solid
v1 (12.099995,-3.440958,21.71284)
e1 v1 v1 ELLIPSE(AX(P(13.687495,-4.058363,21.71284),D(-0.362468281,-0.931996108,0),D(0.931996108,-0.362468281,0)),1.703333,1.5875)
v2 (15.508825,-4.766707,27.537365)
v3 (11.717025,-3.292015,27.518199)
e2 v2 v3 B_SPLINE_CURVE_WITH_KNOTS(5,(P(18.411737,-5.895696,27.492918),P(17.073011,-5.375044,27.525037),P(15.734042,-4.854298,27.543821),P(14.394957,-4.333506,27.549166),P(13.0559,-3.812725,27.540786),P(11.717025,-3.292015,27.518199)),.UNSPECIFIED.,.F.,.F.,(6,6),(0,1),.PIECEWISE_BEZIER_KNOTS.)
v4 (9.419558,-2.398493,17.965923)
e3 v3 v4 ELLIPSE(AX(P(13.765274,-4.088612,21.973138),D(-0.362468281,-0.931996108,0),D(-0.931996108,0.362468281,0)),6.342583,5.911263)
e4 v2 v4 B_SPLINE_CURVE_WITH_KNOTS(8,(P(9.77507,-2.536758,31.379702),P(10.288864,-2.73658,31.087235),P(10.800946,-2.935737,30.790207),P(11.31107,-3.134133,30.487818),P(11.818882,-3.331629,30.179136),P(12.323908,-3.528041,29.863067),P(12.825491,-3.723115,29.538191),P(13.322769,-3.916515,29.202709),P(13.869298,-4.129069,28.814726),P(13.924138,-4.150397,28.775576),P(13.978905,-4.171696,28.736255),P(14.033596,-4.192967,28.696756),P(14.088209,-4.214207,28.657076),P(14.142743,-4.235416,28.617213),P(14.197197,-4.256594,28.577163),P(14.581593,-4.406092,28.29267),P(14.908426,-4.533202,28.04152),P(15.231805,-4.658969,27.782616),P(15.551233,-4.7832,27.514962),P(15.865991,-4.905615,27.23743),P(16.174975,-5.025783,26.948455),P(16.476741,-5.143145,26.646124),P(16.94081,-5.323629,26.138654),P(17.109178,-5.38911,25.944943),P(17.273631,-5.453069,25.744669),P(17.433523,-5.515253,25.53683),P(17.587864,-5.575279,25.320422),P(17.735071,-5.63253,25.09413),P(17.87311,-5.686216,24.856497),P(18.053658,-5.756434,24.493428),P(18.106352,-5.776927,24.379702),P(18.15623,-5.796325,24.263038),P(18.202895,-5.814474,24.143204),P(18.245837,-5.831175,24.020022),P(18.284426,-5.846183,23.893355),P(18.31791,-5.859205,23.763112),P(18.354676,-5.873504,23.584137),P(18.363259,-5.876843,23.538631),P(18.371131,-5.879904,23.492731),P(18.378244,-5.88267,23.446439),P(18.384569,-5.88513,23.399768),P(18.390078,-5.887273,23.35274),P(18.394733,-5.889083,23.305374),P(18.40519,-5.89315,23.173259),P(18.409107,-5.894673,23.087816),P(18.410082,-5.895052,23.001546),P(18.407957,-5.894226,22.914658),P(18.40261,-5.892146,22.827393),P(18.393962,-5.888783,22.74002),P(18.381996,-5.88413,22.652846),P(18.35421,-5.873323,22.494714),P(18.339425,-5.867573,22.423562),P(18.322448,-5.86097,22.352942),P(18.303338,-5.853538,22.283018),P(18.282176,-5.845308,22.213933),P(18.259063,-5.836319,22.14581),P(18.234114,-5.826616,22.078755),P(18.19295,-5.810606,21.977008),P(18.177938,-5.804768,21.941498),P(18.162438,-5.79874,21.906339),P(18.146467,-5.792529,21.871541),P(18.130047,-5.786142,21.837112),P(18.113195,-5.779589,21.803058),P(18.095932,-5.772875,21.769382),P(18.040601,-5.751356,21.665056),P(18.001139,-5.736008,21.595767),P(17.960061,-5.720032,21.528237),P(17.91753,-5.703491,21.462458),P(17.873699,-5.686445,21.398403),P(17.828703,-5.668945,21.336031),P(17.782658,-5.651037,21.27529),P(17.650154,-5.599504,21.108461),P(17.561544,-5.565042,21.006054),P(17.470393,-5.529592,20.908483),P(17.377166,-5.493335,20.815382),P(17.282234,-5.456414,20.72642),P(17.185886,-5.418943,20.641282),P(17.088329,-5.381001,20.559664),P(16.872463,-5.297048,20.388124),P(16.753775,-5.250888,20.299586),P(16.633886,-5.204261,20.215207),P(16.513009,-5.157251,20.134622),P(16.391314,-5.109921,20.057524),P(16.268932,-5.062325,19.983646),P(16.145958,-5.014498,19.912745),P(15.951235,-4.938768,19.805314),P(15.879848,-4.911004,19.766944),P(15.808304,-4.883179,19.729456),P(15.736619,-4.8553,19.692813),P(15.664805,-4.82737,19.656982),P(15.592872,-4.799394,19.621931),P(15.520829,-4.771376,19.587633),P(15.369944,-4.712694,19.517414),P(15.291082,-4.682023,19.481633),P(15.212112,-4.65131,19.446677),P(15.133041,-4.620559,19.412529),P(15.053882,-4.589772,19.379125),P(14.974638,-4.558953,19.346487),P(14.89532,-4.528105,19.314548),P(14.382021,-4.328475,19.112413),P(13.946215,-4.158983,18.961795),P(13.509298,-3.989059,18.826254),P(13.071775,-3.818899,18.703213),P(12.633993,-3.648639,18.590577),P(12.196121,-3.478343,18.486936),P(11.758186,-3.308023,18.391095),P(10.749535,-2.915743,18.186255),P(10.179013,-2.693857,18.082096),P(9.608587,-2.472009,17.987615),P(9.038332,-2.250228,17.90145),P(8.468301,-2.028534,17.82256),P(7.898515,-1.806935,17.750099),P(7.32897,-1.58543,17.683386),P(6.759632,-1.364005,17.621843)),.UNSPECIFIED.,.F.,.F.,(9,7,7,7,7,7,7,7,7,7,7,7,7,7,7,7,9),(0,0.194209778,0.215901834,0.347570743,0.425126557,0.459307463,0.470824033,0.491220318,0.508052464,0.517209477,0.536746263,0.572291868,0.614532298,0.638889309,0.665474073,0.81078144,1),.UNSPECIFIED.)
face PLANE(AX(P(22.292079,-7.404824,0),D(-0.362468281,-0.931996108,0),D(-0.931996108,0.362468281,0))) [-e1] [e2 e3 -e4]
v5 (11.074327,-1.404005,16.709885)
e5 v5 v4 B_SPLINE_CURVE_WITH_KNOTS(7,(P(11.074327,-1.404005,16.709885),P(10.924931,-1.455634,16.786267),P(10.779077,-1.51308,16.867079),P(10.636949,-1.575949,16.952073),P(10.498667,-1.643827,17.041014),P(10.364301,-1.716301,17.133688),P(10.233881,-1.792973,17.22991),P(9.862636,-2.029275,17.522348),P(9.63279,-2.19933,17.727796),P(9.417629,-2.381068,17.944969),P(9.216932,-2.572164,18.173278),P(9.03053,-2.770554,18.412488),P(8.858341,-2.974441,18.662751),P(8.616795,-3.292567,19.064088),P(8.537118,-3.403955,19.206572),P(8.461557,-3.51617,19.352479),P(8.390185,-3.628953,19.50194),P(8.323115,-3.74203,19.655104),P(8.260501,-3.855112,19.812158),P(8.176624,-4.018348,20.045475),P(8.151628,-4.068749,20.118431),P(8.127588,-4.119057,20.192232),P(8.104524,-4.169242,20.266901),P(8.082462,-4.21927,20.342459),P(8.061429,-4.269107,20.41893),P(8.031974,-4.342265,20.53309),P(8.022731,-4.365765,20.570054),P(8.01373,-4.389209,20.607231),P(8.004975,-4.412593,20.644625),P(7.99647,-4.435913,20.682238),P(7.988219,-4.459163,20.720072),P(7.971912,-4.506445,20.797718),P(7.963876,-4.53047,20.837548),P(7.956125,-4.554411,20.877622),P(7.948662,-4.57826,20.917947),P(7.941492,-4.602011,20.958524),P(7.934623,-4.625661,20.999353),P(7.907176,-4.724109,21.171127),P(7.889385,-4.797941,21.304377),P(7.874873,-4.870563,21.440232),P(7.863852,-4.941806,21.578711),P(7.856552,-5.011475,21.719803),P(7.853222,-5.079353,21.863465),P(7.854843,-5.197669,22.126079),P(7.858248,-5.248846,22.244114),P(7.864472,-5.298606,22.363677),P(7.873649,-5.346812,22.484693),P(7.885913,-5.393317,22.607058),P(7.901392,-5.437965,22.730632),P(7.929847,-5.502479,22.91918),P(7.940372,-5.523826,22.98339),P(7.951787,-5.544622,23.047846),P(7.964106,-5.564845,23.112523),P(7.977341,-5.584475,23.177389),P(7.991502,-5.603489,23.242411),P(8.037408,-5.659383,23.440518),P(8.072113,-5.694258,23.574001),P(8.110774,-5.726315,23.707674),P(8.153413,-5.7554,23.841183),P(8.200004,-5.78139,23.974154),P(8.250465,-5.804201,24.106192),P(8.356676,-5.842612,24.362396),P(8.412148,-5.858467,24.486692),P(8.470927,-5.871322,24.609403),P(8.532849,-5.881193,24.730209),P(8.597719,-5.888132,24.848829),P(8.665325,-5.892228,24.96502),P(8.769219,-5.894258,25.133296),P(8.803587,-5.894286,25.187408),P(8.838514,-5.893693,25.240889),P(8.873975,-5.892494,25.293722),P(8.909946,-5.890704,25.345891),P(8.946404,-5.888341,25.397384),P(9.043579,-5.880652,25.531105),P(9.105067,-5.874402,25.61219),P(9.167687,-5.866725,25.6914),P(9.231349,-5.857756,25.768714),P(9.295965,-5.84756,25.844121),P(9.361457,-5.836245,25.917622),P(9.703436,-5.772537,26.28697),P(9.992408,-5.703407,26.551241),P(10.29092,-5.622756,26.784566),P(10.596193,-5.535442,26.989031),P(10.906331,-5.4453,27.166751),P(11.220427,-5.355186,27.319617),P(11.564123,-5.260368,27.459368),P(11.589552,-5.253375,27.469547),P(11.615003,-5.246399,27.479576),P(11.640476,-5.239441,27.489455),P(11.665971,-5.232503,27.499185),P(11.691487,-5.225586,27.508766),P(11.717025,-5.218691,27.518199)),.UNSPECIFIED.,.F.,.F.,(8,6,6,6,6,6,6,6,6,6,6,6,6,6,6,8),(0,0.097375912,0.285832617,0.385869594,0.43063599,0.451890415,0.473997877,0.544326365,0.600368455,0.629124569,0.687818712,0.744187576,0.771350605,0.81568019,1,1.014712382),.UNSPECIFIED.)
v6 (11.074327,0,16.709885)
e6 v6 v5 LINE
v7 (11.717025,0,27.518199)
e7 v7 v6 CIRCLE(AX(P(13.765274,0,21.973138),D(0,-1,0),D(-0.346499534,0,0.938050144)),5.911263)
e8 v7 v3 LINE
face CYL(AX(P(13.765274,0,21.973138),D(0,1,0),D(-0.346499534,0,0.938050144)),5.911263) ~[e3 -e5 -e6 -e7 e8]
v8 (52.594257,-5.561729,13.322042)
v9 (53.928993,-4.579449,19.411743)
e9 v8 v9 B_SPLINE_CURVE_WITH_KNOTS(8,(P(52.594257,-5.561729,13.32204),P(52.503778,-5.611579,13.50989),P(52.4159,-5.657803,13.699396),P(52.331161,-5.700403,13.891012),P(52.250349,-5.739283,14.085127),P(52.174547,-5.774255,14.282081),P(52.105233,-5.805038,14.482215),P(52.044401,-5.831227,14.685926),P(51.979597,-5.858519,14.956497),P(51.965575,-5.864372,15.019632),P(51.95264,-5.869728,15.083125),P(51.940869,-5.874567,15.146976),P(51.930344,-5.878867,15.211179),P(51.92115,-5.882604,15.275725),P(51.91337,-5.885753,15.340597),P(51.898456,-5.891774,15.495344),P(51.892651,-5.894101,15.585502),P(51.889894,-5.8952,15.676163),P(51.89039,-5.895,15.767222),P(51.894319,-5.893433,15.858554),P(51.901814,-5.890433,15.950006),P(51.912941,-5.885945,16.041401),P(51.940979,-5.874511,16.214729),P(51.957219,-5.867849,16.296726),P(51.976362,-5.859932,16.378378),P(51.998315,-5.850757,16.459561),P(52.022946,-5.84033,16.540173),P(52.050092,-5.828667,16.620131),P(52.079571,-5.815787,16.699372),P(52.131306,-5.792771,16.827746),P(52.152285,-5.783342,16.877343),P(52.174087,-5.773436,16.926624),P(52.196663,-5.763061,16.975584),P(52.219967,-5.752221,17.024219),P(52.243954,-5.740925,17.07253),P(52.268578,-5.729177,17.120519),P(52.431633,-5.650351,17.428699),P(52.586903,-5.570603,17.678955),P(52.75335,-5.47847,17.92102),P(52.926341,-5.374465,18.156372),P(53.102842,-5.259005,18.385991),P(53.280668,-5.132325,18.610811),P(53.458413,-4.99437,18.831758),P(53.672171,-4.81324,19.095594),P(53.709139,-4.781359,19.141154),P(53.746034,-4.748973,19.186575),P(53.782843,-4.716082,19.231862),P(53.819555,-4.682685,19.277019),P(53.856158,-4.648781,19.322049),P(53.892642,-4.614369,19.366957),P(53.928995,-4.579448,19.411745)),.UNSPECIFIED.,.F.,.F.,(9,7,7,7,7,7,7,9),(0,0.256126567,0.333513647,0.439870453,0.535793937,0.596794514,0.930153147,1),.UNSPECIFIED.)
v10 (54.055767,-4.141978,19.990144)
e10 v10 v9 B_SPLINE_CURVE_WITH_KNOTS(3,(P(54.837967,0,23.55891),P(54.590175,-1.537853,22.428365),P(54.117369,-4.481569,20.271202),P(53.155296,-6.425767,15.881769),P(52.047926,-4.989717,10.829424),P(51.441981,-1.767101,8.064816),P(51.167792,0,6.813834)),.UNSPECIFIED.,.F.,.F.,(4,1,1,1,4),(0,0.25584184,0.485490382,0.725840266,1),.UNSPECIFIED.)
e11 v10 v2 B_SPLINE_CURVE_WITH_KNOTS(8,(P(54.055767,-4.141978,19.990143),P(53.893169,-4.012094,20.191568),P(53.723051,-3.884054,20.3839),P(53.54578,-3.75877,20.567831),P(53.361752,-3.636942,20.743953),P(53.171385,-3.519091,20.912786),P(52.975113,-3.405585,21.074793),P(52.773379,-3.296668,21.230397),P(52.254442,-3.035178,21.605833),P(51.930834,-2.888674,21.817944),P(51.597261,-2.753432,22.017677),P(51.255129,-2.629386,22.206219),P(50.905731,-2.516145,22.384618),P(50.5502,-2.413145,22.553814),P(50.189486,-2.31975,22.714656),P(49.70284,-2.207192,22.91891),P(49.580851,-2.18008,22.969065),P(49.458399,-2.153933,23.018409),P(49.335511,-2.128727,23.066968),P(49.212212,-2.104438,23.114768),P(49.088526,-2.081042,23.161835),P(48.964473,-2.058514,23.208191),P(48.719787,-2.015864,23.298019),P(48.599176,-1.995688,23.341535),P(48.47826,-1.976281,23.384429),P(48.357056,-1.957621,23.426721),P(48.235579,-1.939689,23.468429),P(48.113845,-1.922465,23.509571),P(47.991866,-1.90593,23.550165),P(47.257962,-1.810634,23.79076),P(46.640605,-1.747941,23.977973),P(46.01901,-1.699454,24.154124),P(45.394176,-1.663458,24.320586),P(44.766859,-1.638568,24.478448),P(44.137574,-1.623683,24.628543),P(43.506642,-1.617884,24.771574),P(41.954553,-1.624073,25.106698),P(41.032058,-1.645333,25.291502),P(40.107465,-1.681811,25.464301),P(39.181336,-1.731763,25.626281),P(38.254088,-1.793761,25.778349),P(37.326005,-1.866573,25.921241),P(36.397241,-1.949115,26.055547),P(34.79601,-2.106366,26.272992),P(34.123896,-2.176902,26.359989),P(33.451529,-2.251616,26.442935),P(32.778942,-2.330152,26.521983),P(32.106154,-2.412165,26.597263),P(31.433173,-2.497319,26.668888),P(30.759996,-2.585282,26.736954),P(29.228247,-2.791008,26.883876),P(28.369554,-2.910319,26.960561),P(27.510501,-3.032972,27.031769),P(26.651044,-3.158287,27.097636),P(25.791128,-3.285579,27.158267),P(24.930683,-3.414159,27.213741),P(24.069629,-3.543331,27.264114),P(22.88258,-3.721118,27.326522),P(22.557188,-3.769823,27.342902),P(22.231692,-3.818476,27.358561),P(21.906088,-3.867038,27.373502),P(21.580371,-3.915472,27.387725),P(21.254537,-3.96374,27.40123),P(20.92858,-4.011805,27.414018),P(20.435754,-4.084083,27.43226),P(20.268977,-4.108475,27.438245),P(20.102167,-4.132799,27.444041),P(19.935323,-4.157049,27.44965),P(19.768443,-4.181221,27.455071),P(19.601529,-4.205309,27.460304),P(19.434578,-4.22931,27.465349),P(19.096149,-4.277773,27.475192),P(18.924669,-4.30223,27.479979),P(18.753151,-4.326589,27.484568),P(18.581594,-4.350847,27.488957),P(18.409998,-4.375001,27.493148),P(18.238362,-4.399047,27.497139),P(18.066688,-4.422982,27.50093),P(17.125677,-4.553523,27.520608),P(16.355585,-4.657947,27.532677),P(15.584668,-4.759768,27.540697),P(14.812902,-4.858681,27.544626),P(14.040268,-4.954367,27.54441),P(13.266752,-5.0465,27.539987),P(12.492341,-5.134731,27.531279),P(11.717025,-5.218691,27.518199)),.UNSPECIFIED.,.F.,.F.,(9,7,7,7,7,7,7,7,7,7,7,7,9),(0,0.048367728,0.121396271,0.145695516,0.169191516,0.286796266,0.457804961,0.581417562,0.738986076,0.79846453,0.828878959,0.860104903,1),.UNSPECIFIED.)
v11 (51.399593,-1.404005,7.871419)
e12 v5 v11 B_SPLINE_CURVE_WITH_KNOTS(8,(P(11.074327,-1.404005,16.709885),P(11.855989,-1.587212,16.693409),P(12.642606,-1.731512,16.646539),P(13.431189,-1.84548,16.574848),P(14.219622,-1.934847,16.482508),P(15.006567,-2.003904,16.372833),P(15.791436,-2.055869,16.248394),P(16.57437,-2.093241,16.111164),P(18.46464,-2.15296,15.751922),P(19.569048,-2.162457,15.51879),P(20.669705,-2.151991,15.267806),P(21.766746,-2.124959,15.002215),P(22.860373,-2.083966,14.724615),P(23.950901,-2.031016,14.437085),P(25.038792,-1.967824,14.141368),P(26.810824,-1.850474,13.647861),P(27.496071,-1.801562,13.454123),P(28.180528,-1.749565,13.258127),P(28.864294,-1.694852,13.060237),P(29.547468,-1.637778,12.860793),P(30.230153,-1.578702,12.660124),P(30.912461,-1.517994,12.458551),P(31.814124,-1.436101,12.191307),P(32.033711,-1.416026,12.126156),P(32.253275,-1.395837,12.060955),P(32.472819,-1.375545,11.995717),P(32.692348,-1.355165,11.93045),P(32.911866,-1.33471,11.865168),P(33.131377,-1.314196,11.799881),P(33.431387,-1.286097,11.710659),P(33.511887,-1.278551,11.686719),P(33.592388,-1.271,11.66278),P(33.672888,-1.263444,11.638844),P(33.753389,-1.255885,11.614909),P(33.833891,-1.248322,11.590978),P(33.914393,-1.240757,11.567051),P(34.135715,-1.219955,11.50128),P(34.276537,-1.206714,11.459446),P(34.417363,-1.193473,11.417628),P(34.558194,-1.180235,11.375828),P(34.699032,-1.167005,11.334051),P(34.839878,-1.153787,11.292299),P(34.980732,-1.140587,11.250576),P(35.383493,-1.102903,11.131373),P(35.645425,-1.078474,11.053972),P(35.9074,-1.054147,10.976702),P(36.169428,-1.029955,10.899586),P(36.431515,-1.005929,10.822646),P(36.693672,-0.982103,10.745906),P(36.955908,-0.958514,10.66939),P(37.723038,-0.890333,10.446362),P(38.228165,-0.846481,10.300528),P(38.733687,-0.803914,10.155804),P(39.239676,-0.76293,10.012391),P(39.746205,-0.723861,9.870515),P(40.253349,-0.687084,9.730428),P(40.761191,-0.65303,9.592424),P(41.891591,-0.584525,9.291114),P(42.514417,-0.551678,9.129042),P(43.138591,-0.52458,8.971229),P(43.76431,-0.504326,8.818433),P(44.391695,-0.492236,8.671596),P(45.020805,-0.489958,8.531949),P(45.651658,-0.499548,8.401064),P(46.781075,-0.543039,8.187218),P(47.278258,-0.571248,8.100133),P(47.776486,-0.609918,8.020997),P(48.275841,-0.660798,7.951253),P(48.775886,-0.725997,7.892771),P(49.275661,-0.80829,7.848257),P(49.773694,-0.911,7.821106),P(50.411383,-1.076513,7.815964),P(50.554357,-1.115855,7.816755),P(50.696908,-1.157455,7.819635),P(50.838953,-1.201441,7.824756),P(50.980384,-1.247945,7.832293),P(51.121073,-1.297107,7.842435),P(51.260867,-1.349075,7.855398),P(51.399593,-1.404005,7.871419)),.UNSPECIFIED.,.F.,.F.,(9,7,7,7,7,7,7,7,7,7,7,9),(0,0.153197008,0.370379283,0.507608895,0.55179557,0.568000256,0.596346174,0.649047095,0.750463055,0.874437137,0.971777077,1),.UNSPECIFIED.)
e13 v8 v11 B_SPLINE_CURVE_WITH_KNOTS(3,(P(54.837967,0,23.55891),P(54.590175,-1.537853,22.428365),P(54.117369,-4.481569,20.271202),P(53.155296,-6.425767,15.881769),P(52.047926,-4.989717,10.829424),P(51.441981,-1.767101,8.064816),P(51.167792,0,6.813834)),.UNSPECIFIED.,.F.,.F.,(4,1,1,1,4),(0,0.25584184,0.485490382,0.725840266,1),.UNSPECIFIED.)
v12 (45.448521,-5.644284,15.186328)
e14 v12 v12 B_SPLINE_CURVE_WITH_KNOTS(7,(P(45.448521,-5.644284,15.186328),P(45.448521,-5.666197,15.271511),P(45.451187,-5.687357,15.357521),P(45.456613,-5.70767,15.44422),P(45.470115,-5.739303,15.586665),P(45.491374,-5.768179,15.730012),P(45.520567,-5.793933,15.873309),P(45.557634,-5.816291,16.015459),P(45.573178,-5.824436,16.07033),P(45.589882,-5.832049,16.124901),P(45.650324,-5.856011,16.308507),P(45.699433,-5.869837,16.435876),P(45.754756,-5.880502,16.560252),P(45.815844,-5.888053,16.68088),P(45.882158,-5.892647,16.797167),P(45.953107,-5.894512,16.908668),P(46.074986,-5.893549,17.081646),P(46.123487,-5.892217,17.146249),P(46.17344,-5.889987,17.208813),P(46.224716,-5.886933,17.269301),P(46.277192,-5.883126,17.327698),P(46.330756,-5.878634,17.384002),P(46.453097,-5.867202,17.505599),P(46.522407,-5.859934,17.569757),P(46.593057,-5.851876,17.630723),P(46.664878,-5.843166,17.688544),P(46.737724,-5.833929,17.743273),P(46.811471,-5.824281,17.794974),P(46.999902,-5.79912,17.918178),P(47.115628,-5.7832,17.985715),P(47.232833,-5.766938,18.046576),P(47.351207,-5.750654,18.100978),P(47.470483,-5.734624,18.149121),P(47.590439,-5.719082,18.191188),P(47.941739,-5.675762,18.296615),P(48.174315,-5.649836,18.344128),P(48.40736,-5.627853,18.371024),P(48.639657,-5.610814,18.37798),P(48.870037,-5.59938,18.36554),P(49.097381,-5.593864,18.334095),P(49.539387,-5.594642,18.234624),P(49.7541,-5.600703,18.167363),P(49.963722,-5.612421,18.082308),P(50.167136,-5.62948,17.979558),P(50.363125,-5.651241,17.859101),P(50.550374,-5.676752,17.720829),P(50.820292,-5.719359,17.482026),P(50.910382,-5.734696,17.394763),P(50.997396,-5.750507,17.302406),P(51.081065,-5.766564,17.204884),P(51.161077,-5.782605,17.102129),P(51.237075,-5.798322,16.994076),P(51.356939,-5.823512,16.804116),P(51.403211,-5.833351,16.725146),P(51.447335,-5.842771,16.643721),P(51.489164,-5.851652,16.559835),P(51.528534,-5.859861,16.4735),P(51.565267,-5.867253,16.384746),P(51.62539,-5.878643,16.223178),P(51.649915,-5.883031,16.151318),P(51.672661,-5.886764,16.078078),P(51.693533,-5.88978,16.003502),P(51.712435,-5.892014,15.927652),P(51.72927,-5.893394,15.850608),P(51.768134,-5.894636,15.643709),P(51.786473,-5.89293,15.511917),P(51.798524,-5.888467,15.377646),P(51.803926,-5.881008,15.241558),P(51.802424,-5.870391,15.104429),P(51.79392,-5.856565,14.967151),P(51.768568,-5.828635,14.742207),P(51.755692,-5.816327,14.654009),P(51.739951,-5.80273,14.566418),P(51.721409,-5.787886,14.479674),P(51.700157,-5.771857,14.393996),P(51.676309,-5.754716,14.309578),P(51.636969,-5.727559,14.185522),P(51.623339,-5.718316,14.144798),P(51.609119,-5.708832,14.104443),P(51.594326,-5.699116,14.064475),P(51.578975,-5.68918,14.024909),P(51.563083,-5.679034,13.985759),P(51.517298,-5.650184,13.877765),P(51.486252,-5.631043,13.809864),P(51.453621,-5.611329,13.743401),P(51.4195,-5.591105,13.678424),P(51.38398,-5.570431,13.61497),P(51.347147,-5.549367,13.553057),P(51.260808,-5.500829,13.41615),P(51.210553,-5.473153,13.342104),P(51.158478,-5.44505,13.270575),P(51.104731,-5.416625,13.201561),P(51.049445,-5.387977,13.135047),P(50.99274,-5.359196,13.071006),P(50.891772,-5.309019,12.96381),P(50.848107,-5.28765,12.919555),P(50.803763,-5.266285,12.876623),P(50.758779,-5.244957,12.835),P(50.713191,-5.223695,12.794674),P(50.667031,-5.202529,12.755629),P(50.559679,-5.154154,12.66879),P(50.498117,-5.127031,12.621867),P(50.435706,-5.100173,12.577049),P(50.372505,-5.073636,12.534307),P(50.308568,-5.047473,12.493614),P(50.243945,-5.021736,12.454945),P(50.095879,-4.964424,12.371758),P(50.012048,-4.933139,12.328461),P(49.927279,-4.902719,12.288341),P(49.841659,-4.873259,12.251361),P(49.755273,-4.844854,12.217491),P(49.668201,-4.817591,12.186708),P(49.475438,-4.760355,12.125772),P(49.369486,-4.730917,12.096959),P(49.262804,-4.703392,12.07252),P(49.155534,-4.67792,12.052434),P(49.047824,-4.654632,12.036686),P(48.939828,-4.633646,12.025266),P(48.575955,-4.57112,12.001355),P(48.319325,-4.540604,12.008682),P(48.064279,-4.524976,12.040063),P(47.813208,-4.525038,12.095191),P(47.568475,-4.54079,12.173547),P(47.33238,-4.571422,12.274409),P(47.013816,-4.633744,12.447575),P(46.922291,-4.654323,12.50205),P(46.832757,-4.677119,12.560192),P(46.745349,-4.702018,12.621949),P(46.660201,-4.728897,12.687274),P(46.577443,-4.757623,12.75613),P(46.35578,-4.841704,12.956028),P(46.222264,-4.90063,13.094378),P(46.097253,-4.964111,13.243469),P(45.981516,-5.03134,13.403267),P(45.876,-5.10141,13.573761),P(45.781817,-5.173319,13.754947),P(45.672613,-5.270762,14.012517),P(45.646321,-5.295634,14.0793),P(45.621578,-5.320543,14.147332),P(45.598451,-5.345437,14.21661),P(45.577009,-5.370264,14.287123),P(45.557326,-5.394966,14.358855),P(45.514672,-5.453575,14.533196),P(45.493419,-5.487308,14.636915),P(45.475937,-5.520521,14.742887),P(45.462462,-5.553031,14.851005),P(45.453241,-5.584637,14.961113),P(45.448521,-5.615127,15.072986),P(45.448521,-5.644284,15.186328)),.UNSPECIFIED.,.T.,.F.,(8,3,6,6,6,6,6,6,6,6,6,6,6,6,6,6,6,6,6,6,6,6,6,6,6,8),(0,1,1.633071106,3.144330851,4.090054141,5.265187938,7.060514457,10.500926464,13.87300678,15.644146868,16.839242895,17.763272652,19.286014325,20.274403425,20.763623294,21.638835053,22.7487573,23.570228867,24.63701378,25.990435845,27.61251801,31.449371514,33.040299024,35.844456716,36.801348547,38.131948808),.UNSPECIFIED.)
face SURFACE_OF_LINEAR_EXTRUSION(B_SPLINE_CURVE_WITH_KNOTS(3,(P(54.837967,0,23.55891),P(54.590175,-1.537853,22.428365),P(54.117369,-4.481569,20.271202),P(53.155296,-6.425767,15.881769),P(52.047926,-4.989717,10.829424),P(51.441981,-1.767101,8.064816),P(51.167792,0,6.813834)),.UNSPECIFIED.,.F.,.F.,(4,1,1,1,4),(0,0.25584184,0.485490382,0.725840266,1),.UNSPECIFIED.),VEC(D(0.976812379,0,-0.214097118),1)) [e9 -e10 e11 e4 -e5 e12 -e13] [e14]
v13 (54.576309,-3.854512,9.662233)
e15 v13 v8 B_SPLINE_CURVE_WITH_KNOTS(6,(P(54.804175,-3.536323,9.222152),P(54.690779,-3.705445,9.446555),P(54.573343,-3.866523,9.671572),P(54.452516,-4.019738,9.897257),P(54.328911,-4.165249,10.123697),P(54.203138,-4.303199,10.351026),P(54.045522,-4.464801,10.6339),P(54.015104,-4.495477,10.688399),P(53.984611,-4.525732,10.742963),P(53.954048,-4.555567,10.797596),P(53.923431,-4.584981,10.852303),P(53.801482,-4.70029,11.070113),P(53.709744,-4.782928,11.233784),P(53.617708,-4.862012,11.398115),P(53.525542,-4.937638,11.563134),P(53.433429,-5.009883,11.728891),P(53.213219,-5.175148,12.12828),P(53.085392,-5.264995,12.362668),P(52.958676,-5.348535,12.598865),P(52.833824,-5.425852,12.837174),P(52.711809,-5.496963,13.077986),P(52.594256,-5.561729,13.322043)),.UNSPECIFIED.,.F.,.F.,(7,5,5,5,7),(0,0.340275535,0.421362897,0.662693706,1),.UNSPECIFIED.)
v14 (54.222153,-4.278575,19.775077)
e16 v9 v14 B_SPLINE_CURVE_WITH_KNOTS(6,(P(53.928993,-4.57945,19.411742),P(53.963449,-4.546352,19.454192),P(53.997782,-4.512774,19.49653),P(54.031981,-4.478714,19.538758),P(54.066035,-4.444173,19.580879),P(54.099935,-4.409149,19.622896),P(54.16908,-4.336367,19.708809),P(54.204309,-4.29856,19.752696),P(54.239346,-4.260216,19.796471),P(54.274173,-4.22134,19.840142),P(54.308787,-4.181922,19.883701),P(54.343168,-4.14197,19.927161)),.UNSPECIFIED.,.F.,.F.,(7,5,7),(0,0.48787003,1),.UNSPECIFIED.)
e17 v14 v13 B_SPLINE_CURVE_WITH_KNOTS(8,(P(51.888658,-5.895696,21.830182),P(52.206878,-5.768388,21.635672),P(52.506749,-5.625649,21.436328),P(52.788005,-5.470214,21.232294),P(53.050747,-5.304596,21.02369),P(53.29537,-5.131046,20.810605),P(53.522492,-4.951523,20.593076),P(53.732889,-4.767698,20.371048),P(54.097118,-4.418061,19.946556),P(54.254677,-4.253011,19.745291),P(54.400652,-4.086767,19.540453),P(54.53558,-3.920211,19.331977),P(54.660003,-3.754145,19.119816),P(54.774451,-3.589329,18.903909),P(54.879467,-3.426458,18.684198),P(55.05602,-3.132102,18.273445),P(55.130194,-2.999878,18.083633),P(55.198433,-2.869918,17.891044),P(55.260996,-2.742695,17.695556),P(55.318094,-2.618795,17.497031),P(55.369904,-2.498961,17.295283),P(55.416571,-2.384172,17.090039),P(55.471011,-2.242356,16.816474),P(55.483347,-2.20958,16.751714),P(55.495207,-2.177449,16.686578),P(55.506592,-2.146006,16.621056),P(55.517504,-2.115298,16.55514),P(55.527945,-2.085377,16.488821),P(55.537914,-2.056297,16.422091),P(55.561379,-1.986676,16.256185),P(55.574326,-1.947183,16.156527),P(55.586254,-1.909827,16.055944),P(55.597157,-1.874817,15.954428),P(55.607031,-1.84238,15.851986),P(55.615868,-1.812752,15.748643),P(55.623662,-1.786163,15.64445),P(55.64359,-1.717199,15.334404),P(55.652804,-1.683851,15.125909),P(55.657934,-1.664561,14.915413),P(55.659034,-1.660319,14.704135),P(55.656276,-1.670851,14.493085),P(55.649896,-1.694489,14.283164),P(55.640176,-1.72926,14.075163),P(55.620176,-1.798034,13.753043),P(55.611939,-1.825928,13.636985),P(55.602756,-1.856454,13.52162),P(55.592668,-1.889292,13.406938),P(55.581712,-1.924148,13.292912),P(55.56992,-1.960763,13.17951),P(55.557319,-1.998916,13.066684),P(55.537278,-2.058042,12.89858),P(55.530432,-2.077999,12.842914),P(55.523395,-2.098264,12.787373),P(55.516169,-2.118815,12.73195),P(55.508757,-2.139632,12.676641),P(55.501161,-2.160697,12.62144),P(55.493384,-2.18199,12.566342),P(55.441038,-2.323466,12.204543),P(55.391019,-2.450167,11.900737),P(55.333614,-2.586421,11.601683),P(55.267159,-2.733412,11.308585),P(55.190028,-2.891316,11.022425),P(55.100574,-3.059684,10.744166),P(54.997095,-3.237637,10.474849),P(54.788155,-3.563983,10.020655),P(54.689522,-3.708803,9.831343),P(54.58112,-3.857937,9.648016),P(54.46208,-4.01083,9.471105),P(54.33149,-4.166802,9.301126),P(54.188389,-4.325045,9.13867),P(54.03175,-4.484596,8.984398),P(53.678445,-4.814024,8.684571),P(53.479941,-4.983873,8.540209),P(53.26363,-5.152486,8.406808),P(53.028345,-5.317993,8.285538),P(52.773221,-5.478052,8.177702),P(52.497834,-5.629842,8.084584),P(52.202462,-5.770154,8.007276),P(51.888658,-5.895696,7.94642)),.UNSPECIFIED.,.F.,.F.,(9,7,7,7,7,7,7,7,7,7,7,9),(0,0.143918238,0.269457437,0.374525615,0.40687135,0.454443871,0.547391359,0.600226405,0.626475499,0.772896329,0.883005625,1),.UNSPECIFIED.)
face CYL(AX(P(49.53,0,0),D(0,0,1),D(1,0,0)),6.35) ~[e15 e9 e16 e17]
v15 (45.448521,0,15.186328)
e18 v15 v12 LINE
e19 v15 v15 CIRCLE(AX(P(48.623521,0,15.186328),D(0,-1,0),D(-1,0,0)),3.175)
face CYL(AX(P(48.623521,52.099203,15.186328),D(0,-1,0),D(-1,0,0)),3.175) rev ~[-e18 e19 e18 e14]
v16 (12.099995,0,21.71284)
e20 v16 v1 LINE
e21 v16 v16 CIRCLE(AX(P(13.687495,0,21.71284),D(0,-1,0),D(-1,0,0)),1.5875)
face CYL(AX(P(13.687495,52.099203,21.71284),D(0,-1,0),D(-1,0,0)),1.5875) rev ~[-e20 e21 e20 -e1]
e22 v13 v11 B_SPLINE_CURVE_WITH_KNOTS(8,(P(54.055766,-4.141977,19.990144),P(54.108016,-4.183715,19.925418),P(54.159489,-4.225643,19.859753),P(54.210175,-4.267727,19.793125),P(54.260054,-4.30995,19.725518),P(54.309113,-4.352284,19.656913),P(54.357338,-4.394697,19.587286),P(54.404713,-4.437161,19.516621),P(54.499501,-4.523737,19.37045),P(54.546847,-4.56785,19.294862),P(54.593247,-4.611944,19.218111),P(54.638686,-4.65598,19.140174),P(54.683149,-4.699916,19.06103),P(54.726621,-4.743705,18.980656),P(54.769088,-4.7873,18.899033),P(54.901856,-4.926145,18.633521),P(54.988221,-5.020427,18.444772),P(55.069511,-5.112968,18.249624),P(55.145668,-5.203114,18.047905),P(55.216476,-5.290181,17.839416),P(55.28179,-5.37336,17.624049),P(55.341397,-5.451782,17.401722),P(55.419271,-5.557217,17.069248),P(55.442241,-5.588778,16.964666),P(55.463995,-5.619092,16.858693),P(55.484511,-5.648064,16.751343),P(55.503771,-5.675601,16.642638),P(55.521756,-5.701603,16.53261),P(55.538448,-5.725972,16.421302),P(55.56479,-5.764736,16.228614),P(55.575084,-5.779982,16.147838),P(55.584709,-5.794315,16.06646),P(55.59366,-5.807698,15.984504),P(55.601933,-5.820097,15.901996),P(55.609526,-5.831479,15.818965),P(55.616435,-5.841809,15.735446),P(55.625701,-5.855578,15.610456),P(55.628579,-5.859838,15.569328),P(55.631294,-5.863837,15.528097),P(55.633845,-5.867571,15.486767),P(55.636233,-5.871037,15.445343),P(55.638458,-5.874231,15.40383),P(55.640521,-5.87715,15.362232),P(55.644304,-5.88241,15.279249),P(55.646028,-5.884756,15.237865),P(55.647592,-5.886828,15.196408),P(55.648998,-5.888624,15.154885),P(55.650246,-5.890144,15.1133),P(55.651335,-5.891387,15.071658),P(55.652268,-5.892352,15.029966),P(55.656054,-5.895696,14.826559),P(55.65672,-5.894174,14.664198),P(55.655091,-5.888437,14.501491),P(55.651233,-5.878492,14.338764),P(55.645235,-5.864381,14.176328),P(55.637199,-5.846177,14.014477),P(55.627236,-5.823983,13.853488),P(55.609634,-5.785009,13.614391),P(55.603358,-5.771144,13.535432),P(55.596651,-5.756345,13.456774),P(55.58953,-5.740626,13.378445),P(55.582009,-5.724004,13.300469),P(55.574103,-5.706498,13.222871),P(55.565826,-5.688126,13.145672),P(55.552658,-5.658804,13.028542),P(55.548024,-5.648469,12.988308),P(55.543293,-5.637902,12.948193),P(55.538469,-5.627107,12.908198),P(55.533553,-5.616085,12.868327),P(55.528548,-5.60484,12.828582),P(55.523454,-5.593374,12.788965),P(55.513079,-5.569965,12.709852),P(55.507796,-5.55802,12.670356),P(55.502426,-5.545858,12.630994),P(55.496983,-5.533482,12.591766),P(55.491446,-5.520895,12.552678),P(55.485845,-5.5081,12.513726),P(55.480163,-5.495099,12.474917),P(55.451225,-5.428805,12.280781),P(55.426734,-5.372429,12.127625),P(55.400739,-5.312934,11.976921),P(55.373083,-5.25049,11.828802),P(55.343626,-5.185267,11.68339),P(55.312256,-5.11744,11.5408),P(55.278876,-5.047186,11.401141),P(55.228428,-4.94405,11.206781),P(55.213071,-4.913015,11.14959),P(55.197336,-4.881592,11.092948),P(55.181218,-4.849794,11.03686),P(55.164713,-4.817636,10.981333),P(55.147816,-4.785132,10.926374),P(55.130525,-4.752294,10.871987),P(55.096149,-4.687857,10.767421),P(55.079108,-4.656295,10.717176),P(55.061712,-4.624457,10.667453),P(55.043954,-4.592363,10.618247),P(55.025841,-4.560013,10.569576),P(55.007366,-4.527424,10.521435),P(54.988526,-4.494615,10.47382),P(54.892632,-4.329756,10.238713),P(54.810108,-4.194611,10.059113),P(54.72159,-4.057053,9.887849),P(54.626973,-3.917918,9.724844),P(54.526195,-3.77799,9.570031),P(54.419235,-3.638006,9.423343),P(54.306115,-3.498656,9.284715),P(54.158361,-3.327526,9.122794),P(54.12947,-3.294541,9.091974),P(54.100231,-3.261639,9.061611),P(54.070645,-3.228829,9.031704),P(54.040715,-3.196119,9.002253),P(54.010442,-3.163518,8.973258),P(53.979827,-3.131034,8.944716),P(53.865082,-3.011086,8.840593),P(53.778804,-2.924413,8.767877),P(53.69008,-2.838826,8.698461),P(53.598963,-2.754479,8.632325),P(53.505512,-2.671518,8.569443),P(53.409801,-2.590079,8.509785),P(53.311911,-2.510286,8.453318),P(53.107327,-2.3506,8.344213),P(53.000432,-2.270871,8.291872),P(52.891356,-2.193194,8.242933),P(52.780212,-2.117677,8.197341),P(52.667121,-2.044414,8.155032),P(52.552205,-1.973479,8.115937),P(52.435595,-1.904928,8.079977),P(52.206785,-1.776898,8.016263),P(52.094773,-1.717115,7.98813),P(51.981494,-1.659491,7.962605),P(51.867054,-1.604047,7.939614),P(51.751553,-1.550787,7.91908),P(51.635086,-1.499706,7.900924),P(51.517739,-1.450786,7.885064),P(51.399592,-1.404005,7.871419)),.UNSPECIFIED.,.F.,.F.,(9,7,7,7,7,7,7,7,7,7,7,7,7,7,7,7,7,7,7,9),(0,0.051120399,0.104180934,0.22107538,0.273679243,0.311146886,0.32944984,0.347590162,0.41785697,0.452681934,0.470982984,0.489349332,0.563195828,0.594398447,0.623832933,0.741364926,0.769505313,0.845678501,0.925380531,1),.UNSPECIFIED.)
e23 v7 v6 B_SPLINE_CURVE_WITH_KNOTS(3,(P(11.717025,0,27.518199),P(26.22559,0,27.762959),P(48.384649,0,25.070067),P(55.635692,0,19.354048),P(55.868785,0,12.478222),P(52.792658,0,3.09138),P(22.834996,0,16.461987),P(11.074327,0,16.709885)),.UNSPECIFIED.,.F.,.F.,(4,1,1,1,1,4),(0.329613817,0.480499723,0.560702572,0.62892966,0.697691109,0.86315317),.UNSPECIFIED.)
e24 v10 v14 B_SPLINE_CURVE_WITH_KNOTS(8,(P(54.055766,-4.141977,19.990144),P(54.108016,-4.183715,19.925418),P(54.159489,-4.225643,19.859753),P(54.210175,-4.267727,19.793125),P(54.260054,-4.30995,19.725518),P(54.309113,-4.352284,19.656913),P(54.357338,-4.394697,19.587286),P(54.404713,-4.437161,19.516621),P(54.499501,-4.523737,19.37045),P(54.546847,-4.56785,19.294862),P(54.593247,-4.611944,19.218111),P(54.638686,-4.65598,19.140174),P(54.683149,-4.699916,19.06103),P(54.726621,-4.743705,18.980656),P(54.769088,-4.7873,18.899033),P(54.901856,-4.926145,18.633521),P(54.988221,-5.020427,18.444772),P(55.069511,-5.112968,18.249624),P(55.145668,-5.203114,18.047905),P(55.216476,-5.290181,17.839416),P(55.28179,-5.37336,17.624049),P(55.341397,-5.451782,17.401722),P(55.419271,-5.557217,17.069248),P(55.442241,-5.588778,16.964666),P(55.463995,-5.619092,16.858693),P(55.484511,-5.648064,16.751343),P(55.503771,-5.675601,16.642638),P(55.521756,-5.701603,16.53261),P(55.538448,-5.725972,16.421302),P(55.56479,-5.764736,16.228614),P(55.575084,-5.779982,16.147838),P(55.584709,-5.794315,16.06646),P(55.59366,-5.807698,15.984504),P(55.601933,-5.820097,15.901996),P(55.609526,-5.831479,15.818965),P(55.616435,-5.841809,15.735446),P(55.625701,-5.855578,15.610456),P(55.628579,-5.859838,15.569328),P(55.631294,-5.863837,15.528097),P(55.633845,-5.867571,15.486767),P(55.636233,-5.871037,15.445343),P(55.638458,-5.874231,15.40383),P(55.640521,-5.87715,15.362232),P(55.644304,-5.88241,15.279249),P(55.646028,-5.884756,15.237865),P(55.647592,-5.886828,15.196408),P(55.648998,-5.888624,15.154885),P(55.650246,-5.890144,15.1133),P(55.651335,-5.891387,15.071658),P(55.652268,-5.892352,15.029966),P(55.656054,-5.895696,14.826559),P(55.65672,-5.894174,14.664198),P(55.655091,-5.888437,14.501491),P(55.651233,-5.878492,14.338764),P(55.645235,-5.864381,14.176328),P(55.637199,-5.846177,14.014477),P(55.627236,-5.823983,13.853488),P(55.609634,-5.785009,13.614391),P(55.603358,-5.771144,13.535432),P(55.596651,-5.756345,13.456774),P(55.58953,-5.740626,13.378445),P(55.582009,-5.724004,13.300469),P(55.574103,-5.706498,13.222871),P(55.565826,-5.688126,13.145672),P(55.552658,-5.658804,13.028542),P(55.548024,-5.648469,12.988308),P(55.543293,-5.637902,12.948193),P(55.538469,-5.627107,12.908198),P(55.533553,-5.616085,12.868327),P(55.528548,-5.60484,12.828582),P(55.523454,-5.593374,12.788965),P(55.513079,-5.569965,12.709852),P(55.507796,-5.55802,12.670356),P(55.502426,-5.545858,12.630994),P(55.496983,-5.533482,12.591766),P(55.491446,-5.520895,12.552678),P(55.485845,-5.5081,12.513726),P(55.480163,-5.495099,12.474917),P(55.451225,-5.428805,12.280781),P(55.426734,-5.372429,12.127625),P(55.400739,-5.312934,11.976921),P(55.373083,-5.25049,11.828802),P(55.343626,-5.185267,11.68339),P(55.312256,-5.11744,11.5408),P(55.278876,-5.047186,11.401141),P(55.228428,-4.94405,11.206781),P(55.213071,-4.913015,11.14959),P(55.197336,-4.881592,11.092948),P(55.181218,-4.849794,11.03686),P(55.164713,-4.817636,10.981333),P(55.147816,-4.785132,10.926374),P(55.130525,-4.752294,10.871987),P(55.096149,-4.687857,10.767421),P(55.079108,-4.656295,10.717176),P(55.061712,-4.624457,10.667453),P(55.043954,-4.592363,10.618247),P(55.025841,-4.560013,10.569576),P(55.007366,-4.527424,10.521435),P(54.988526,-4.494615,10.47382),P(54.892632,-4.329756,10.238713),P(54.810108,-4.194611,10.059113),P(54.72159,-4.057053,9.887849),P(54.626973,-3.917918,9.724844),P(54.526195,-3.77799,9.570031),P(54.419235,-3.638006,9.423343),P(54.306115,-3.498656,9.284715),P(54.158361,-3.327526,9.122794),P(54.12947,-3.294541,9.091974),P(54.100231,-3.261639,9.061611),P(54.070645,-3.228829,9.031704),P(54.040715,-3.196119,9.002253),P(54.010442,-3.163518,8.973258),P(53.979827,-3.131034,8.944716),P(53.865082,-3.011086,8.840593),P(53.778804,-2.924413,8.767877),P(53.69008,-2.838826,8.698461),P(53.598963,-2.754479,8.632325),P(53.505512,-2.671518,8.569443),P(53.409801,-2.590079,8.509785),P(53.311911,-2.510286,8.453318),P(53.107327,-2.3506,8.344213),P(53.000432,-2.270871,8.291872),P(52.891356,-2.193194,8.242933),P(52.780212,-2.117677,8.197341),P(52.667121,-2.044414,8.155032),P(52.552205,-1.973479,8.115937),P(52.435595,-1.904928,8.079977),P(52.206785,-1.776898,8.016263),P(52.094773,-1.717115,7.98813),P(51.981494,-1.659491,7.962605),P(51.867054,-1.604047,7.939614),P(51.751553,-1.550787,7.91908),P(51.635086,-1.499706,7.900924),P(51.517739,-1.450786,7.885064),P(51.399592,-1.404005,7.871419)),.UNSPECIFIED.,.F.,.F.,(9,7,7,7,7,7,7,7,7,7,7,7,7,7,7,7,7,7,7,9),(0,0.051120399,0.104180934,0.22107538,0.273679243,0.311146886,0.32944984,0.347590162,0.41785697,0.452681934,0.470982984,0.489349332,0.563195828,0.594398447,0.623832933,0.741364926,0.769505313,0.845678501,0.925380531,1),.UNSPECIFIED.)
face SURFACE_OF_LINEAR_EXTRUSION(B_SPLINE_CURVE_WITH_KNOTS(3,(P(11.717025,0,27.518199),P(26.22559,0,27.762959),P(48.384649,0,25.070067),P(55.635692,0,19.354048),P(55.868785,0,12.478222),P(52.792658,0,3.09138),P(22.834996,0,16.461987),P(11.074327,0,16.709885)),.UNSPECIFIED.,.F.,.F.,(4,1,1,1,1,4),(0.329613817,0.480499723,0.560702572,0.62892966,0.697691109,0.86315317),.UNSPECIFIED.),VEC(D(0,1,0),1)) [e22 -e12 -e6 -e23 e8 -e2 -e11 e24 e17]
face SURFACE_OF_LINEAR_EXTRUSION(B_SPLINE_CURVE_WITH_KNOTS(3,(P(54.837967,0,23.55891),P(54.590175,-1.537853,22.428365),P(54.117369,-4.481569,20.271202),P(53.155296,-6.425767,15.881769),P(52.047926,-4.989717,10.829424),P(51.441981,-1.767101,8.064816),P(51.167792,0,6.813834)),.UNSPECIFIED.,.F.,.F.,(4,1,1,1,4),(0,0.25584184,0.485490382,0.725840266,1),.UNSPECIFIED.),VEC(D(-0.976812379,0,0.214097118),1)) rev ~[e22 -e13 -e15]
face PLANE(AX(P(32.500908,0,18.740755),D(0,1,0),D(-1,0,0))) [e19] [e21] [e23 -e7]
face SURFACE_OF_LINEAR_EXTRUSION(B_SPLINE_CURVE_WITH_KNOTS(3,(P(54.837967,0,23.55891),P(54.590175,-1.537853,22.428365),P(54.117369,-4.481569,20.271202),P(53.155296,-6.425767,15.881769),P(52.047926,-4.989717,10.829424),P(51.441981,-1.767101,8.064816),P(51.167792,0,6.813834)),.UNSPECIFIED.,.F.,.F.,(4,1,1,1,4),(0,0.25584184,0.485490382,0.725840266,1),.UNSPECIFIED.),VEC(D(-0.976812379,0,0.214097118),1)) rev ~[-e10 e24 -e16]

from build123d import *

# Parameters (mm, degrees)
F1_DEPTH = 6.35
F2_D     = 6.35
F3_D     = 3.175
F6_DEPTH = 63.5
F8_DEPTH = 38.1


with BuildPart() as f1:
    # F0 (on Front) → F1 (new body)
    with BuildSketch(Plane.XZ):
        with BuildLine():
            add(Edge.make_bspline(
                [(11.7170246186, 27.5181992918), (26.2255903847, 27.7629586116), (48.3846492687, 25.0700674705), (55.6356924136, 19.3540475045), (55.8687851234, 12.478221614), (52.7926576137, 3.0913798232), (22.8349964924, 16.4619868897), (11.0743273574, 16.709885222)],
                knots=[0.3296138166, 0.3296138166, 0.3296138166, 0.3296138166, 0.480499723, 0.5607025722, 0.6289296599, 0.6976911092, 0.8631531697, 0.8631531697, 0.8631531697, 0.8631531697], degree=3))
            ThreePointArc((11.7170246186, 27.5181992918), (7.864434674, 22.32402127), (11.0743273574, 16.709885222))
        make_face()
    extrude(amount=F1_DEPTH)

    # F2 (through all)
    with Locations(Plane(origin=(0, 0, 0), x_dir=(1, 0, 0), z_dir=(0, 1, 0))):
        with Locations((48.6235208809, -15.1863284409)):
            Hole(F2_D / 2)

    # F3 (through all)
    with Locations(Plane(origin=(0, 0, 0), x_dir=(1, 0, 0), z_dir=(0, 1, 0))):
        with Locations((13.6874951422, -21.7128396034)):
            Hole(F3_D / 2)

    # F5 (on face) → F6 (cut, symmetric)
    with BuildSketch(Plane(origin=(47.3973885527, 0, -10.3885295862), x_dir=(0, -1, 0), z_dir=(-0.9768123791, 0, 0.2140971182))):
        with BuildLine():
            add(Edge.make_bspline(
                [(0, 34.7532853484), (1.5378532055, 33.5959036458), (4.4815687566, 31.3875342093), (6.4257674751, 26.8939046891), (4.9897171526, 21.721626127), (1.7671005847, 18.8913922435), (0, 17.6107138395)],
                knots=[0, 0, 0, 0, 0.2558418404, 0.4854903825, 0.725840266, 1, 1, 1, 1], degree=3))
            Line((0, 17.6107138395), (0, 16.6775155813))
            Line((0, 16.6775155813), (13.2649885491, 16.6775155813))
            Line((13.2649885491, 16.6775155813), (13.2649885491, 37.0723327391))
            Line((13.2649885491, 37.0723327391), (0, 37.0723327391))
            Line((0, 37.0723327391), (0, 34.7532853484))
        make_face()
    extrude(amount=F6_DEPTH, both=True, mode=Mode.SUBTRACT)

    # F7 (on Top) → F8 (cut, symmetric)
    with BuildSketch(Plane.XY):
        Polygon((22.2920793171, -7.4048238039), (3.2524354756, 0), (0, 0), (0, -11.8425413966), (16.7136751115, -11.8425413966), (22.3890412599, -11.8425413966), align=None)
        with BuildLine():
            Line((59.1935403645, 0), (55.88, 0))
            ThreePointArc((55.88, 0), (54.0201280605, -4.4901280605), (49.53, -6.35))
            Line((49.53, -6.35), (49.53, -9.6727749333))
            Line((49.53, -9.6727749333), (59.1935403645, -9.6727749333))
            Line((59.1935403645, -9.6727749333), (59.1935403645, 0))
        make_face()
    extrude(amount=F8_DEPTH, both=True, mode=Mode.SUBTRACT)


solid = f1.part
